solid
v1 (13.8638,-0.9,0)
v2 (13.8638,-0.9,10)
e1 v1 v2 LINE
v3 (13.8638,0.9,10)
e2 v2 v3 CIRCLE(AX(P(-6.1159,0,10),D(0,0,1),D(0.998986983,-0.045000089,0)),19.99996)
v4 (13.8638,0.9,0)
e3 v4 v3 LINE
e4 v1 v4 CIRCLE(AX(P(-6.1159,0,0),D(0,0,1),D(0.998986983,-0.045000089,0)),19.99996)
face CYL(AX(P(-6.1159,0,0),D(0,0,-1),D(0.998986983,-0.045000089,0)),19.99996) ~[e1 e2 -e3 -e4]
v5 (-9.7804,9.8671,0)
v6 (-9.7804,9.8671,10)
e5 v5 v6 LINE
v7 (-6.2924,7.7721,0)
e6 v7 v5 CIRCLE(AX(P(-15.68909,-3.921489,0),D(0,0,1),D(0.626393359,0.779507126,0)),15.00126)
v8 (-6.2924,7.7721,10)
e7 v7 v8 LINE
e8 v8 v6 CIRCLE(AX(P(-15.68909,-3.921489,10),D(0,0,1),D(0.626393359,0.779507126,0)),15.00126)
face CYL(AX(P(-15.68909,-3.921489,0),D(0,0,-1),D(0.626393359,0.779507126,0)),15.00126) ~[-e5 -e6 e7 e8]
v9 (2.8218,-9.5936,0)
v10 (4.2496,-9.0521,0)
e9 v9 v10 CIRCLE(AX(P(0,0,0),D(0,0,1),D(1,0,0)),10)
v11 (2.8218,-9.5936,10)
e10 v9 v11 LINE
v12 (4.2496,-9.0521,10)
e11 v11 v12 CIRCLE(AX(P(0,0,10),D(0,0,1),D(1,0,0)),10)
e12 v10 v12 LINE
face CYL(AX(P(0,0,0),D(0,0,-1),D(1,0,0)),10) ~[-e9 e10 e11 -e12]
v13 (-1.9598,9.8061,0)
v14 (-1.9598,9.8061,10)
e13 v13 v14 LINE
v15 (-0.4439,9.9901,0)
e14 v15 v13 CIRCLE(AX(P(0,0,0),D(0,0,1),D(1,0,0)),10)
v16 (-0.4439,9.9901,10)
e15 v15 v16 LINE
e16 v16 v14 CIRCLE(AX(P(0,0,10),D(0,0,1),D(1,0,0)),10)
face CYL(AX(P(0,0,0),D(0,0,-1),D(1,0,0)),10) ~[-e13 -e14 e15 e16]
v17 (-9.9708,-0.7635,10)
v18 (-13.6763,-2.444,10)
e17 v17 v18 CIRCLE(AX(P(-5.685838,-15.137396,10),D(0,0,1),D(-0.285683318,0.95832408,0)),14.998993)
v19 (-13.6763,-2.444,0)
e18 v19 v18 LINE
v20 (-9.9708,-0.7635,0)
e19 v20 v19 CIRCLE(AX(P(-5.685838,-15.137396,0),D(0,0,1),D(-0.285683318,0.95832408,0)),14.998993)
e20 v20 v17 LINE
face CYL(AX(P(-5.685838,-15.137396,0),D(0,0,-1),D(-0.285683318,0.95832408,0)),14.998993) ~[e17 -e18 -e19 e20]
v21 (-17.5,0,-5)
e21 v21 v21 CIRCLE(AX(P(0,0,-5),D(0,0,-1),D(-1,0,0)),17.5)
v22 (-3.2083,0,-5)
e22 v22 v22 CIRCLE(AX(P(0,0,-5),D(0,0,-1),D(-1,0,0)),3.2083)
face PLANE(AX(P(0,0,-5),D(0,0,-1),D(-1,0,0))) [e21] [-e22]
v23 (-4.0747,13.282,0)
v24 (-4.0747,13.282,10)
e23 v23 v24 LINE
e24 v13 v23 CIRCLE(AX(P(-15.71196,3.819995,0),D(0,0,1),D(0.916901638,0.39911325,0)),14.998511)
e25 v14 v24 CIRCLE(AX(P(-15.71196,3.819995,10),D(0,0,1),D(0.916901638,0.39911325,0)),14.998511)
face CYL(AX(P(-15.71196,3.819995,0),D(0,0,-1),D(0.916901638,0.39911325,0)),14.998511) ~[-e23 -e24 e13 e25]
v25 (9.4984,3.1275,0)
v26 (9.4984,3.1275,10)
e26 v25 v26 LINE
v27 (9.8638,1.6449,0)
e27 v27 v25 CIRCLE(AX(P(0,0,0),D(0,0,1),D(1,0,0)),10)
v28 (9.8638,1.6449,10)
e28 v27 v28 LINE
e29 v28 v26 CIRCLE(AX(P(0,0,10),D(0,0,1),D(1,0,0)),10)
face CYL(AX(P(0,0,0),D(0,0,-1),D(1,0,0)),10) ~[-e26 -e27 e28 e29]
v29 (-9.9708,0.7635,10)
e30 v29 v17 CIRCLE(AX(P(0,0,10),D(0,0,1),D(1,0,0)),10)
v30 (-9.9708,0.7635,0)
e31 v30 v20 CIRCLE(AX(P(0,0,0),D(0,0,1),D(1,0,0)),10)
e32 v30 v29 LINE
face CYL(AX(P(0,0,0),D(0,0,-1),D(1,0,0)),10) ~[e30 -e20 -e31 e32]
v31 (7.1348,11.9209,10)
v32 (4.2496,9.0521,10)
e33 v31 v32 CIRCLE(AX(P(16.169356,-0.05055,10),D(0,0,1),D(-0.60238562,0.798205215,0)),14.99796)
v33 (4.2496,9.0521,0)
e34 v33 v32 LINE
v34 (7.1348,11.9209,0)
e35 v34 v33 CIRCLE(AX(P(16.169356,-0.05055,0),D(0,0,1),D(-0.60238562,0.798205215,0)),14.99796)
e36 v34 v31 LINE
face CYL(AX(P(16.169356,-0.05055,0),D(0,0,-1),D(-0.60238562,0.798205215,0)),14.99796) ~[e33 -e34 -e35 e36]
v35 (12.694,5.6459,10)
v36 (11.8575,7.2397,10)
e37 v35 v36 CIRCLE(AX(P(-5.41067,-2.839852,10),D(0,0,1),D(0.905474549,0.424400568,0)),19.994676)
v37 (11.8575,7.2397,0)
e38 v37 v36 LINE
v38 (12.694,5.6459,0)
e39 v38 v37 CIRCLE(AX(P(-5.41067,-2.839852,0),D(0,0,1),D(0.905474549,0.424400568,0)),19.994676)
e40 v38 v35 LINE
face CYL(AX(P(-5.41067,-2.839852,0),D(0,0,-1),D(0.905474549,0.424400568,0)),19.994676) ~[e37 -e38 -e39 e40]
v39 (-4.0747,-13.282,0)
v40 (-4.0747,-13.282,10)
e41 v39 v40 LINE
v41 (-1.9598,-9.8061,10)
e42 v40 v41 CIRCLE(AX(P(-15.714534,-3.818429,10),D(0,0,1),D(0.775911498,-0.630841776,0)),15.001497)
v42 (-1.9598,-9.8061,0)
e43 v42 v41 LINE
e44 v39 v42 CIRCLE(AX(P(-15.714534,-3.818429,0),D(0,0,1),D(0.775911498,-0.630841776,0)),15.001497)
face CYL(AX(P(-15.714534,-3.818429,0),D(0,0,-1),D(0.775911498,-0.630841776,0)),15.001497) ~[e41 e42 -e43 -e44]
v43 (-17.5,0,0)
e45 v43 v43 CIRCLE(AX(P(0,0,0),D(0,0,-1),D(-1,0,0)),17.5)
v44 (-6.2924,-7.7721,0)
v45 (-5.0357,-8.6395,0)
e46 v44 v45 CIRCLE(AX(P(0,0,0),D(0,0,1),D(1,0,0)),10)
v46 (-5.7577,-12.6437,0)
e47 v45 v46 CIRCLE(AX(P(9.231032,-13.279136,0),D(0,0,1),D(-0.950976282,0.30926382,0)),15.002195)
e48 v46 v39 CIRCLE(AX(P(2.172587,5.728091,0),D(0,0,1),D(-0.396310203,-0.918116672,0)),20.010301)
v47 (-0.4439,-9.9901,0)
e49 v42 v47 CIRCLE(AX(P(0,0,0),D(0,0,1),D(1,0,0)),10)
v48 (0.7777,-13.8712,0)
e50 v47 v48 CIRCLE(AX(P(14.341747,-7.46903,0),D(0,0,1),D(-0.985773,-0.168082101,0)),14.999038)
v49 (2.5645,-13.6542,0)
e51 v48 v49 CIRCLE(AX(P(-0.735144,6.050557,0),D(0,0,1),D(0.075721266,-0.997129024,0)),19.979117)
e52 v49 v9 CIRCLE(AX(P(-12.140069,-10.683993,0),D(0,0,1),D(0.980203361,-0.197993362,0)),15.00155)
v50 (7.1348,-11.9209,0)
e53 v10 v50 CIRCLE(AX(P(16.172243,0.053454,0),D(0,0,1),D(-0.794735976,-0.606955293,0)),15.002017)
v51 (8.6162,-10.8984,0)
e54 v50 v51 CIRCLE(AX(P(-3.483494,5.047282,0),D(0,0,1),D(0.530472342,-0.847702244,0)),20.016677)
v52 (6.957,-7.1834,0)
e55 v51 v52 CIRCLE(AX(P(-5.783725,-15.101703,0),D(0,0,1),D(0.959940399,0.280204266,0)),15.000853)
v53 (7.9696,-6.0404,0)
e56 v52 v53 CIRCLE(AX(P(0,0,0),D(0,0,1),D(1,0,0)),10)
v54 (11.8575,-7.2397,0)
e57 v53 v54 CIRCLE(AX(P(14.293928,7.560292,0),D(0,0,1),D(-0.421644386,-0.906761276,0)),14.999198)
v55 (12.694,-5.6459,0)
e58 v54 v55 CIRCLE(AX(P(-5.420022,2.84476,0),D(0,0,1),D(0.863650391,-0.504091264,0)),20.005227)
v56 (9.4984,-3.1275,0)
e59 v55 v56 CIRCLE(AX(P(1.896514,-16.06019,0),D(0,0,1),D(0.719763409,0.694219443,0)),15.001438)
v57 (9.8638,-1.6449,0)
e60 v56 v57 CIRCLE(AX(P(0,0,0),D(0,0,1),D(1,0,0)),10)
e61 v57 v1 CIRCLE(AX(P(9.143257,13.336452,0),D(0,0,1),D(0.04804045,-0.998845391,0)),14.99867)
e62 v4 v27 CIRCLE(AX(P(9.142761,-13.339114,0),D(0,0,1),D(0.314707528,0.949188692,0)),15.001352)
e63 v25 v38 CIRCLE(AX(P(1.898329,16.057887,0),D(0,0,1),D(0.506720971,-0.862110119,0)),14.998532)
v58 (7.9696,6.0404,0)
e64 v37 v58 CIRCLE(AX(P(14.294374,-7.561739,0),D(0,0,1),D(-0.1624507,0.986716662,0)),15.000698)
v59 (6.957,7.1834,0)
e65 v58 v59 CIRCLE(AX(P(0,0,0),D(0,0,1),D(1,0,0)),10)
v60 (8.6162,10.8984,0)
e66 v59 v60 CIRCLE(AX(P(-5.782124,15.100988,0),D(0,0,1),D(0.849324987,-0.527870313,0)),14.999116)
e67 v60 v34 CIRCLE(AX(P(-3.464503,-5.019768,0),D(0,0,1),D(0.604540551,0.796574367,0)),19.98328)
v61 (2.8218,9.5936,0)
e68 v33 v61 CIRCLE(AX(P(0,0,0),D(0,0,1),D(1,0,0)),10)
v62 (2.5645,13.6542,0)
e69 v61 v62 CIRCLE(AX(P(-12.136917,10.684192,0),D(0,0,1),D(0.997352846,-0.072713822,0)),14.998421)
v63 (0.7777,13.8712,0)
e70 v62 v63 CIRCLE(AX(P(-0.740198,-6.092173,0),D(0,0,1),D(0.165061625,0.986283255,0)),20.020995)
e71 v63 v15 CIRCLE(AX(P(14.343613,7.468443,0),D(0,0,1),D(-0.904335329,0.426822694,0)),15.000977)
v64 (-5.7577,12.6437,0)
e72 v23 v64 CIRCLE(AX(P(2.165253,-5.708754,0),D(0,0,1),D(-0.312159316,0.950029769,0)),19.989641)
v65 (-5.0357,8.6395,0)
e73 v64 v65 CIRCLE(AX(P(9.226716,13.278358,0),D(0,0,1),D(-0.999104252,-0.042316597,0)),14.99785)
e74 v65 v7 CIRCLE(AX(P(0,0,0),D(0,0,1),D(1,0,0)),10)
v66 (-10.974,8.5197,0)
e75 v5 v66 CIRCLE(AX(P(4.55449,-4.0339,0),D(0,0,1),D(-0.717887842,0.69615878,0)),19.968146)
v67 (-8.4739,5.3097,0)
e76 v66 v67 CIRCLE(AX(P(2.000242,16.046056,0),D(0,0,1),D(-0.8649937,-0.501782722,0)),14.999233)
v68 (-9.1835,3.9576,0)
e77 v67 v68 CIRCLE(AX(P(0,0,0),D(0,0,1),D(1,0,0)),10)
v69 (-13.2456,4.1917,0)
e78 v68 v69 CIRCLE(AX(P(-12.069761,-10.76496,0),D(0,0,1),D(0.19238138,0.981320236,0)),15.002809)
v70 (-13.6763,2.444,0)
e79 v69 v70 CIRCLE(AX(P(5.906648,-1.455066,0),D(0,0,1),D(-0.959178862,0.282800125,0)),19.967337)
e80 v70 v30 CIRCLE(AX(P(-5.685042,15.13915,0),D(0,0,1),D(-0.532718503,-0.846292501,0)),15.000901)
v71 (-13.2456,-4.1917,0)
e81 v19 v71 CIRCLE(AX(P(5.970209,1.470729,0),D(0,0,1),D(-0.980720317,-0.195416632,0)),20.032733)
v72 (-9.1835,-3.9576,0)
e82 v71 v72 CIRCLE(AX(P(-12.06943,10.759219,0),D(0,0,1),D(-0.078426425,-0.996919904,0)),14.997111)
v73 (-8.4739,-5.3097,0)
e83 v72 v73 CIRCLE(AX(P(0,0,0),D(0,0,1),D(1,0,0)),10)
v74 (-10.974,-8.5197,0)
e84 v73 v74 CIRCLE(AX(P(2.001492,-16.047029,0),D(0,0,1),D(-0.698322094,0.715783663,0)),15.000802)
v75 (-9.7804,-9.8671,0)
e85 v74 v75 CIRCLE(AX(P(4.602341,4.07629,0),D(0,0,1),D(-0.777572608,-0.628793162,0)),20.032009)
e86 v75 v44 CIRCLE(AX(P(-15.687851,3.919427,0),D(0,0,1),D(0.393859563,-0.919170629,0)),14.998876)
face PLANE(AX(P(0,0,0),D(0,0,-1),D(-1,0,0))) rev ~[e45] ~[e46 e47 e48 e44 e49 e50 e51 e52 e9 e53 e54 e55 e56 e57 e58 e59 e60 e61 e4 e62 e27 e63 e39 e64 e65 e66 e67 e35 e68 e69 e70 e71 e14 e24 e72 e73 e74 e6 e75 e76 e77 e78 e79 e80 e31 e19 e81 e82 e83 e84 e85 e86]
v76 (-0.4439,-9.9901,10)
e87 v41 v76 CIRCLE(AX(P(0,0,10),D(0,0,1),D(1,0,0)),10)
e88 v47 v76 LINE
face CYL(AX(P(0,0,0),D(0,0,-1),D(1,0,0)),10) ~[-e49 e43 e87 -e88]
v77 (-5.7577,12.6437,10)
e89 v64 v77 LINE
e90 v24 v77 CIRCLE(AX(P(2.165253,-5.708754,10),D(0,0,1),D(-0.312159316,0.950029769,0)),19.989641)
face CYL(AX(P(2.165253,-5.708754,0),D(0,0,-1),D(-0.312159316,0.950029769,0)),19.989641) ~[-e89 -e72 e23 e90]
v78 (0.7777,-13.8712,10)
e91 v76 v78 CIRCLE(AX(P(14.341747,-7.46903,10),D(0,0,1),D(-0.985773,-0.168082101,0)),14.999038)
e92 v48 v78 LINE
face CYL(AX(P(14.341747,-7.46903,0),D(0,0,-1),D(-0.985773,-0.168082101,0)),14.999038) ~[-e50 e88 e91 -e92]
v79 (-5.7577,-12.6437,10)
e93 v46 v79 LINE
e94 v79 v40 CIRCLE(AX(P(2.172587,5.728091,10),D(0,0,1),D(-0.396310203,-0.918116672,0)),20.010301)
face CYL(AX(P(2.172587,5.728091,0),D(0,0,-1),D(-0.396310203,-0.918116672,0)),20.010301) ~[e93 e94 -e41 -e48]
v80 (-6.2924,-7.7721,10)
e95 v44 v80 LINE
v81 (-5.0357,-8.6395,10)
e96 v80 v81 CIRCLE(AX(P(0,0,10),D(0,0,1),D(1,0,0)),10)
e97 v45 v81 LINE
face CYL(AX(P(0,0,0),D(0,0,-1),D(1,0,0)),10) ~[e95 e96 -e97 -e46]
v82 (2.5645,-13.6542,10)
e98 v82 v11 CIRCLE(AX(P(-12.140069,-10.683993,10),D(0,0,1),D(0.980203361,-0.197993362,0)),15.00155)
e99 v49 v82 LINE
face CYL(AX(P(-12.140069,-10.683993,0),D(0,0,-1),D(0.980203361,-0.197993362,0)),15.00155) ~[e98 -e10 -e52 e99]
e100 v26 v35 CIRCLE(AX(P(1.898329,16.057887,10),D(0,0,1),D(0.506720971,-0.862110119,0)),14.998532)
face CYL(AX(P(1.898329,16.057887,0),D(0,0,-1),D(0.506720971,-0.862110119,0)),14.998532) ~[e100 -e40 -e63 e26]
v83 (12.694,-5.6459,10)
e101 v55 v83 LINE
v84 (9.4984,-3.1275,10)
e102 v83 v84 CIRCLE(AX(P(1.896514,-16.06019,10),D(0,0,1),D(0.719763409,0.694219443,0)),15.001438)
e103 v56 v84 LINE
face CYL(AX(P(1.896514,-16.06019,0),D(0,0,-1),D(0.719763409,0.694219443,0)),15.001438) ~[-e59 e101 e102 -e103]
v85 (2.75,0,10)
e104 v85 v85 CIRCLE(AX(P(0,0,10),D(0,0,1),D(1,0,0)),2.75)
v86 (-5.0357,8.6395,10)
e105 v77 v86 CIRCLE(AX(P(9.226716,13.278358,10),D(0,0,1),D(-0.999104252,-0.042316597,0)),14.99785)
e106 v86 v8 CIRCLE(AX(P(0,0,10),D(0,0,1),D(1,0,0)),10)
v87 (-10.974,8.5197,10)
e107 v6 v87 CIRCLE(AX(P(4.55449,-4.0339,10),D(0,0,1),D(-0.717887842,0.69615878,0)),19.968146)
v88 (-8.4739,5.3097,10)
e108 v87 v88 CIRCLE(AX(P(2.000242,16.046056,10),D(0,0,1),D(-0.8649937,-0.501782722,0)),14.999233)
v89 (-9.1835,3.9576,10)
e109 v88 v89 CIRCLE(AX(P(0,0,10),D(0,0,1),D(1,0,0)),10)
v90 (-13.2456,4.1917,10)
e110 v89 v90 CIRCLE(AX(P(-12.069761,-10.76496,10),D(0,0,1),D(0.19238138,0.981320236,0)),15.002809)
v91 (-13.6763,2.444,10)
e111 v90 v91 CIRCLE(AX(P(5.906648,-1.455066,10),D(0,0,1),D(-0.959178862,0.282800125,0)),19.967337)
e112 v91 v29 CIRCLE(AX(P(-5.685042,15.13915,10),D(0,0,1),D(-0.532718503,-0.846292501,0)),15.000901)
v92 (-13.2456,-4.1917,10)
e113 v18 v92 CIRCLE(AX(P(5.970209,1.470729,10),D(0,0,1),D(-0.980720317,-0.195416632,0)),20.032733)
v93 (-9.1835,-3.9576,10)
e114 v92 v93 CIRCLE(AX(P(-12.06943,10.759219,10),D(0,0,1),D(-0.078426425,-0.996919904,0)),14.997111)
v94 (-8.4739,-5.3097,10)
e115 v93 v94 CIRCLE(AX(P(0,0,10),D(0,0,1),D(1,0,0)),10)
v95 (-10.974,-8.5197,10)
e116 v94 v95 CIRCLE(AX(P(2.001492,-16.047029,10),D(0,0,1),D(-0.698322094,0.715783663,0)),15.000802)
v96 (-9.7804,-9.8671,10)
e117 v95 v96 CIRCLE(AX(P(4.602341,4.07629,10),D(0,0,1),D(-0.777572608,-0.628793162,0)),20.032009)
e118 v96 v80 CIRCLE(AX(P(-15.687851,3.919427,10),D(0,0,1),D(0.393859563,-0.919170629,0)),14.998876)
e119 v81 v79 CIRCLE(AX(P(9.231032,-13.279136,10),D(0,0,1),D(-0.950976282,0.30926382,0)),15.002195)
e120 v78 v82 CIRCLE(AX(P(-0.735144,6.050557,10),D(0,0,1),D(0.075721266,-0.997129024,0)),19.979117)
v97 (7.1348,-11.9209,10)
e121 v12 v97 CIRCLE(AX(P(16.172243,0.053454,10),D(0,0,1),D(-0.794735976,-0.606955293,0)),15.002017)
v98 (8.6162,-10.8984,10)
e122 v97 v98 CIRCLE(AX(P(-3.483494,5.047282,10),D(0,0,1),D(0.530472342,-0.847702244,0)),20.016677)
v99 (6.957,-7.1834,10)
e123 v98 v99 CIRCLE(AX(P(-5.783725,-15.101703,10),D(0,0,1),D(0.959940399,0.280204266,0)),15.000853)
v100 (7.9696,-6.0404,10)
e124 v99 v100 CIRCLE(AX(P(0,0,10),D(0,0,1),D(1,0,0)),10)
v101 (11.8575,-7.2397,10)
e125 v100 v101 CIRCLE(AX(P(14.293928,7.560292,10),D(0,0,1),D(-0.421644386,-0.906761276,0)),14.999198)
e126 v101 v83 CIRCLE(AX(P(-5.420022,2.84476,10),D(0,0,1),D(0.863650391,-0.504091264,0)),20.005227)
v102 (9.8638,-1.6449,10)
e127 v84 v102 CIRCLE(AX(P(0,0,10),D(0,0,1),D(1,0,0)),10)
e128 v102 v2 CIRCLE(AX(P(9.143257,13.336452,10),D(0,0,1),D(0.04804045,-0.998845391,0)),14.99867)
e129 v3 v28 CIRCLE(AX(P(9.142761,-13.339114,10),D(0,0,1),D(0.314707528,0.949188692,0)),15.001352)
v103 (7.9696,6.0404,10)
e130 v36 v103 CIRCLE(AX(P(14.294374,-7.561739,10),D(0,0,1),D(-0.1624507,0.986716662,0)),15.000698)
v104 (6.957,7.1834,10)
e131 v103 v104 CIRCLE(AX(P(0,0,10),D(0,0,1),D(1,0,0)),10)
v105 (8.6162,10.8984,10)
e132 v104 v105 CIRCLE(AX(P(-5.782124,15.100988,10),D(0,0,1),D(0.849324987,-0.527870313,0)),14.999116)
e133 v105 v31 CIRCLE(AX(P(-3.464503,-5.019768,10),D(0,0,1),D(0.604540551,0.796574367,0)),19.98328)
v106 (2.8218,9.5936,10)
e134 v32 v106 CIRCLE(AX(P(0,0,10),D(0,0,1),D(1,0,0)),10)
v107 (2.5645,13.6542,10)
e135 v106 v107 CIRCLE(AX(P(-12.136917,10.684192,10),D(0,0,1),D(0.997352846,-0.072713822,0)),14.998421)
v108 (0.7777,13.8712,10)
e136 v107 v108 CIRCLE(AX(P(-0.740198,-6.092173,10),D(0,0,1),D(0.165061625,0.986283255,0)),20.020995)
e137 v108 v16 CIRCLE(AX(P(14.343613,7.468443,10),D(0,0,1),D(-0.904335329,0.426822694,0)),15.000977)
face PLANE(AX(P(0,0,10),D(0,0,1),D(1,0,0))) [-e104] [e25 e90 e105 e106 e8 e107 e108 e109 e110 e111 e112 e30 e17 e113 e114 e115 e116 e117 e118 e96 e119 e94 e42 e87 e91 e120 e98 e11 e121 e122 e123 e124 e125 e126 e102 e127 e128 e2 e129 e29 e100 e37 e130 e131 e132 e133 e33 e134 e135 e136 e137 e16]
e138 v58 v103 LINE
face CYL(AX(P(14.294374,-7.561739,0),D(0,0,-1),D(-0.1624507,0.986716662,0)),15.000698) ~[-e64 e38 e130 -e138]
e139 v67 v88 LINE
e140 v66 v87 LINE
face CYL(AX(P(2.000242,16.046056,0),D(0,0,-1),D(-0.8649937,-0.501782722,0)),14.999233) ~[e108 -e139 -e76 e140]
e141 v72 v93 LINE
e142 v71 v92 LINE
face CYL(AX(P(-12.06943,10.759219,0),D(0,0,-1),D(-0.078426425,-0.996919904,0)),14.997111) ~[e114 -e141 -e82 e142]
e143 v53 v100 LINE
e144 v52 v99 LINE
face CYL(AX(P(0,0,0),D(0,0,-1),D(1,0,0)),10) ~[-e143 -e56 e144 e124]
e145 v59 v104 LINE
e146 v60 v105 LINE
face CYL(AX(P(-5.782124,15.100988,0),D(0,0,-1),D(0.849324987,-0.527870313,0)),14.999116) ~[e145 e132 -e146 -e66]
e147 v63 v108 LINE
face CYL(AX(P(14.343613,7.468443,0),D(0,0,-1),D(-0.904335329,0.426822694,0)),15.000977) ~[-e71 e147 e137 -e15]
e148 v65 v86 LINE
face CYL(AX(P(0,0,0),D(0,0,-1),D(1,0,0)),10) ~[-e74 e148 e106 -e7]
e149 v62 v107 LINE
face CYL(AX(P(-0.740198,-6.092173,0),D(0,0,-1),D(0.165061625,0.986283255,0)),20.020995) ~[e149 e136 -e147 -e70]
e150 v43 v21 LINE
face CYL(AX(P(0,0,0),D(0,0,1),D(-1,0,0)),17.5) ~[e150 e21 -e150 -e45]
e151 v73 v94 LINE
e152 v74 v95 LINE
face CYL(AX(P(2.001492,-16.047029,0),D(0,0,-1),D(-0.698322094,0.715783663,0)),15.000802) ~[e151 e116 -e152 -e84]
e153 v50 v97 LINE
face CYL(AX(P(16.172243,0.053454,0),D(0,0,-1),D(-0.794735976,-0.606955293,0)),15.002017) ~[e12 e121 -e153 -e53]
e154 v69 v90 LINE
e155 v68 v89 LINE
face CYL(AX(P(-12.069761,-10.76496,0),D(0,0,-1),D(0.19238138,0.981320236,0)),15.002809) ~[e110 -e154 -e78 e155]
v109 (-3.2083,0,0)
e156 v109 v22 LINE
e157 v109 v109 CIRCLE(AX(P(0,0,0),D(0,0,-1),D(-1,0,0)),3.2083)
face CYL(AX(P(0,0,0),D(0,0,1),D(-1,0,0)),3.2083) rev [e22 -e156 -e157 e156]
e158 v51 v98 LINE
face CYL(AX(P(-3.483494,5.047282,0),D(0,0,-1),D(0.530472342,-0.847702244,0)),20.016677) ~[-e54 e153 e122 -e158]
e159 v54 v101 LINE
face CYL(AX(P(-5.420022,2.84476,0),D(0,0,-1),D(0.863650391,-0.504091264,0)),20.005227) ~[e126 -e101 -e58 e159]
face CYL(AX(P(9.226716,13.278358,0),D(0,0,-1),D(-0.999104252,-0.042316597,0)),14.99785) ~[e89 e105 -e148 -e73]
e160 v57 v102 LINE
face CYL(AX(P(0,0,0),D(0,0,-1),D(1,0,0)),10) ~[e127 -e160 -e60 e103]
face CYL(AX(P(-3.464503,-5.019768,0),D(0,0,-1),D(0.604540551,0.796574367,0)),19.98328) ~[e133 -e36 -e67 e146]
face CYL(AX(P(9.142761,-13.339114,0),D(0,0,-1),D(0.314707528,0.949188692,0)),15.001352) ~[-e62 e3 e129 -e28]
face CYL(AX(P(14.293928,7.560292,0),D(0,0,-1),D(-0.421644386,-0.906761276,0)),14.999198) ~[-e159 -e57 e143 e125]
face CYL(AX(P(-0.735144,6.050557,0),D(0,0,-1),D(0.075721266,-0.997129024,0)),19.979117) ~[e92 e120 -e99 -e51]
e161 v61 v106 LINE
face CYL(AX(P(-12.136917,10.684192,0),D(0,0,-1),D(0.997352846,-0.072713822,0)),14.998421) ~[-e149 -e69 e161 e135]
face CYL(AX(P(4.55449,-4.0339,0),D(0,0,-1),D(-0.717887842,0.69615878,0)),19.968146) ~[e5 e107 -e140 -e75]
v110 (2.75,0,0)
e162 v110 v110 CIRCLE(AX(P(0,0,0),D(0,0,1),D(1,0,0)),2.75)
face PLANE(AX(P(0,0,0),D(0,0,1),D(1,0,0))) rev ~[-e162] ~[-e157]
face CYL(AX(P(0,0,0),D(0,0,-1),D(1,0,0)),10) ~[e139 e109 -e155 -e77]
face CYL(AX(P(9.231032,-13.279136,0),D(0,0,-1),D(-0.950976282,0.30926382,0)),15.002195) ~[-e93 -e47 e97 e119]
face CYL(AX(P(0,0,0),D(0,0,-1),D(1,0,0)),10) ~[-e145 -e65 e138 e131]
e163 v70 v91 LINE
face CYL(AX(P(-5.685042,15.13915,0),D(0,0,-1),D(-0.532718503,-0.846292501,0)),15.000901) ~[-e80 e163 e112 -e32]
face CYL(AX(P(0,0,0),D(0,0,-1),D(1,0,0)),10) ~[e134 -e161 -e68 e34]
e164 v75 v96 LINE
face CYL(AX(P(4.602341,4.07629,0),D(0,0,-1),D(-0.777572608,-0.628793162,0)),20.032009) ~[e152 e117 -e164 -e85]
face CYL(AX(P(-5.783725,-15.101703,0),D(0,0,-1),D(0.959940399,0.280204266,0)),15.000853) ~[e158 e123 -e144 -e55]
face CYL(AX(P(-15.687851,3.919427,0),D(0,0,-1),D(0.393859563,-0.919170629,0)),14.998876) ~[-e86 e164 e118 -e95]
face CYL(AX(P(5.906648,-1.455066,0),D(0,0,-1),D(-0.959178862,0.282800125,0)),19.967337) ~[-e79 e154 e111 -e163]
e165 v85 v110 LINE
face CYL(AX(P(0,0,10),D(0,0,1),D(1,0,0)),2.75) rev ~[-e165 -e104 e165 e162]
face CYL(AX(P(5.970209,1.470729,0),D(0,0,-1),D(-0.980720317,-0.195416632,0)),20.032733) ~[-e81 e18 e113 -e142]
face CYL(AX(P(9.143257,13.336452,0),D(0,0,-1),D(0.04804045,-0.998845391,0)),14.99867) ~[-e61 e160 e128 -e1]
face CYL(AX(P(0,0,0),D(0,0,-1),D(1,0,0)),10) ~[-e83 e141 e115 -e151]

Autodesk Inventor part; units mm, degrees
ref_plane "YZ Plane" through (0, 0, 0) normal (1, 0, 0) x (0, 1, 0)
ref_plane "XZ Plane" through (0, 0, 0) normal (0, 1, 0) x (-1, 0, 0)
ref_plane "XY Plane" through (0, 0, 0) normal (0, 0, 1) x (1, 0, 0)
sketch "Sketch1" plane through (0, 0, 0) normal (0, 0, 1) x (1, 0, 0)
  circle A0 centre (0, 0) radius 10
  arc A1 (13.8638, 0.9) -> (9.8638, 1.6449) centre (9.1431, -13.3378) ccw
  arc A2 (9.8638, -1.6449) -> (13.8638, -0.9) centre (9.1431, 13.3378) ccw
  arc A3 (13.8638, -0.9) -> (13.8638, 0.9) centre (-6.1159, 0) ccw
  line L0 (0, 0) -> (21.7354, 0) construction
  arc A4 (9.8638, -1.6449) -> (9.8638, 1.6449) centre (0, 0) ccw
  arc A5 (11.8575, 7.2397) -> (7.9696, 6.0404) centre (14.2942, -7.561) ccw
  arc A6 (12.694, 5.6459) -> (11.8575, 7.2397) centre (-5.4154, -2.8422) ccw
  arc A7 (9.4984, 3.1275) -> (12.694, 5.6459) centre (1.8975, 16.0591) ccw
  circle A8 centre (0, 0) radius 10
  arc A9 (9.4984, 3.1275) -> (7.9696, 6.0404) centre (0, 0) ccw
  arc A10 (7.1348, 11.9209) -> (4.2496, 9.0521) centre (16.1707, -0.0521) ccw
  arc A11 (8.6162, 10.8984) -> (7.1348, 11.9209) centre (-3.4743, -5.0333) ccw
  arc A12 (6.957, 7.1834) -> (8.6162, 10.8984) centre (-5.7829, 15.1014) ccw
  circle A13 centre (0, 0) radius 10
  arc A14 (6.957, 7.1834) -> (4.2496, 9.0521) centre (0, 0) ccw
  arc A15 (0.7777, 13.8712) -> (-0.4439, 9.9901) centre (14.3427, 7.4688) ccw
  arc A16 (2.5645, 13.6542) -> (0.7777, 13.8712) centre (-0.7372, -6.0714) ccw
  arc A17 (2.8218, 9.5936) -> (2.5645, 13.6542) centre (-12.1385, 10.6842) ccw
  circle A18 centre (0, 0) radius 10
  arc A19 (2.8218, 9.5936) -> (-0.4439, 9.9901) centre (0, 0) ccw
  arc A20 (-5.7577, 12.6437) -> (-5.0357, 8.6395) centre (9.2289, 13.2786) ccw
  arc A21 (-4.0747, 13.282) -> (-5.7577, 12.6437) centre (2.1687, -5.7185) ccw
  arc A22 (-1.9598, 9.8061) -> (-4.0747, 13.282) centre (-15.7133, 3.8193) ccw
  circle A23 centre (0, 0) radius 10
  arc A24 (-1.9598, 9.8061) -> (-5.0357, 8.6395) centre (0, 0) ccw
  arc A25 (-10.974, 8.5197) -> (-8.4739, 5.3097) centre (2.0009, 16.0465) ccw
  arc A26 (-9.7804, 9.8671) -> (-10.974, 8.5197) centre (4.5779, -4.0556) ccw
  arc A27 (-6.2924, 7.7721) -> (-9.7804, 9.8671) centre (-15.6884, -3.9205) ccw
  circle A28 centre (0, 0) radius 10
  arc A29 (-6.2924, 7.7721) -> (-8.4739, 5.3097) centre (0, 0) ccw
  arc A30 (-13.6763, 2.444) -> (-9.9708, 0.7635) centre (-5.6855, 15.1383) ccw
  arc A31 (-13.2456, 4.1917) -> (-13.6763, 2.444) centre (5.9382, -1.4636) ccw
  arc A32 (-9.1835, 3.9576) -> (-13.2456, 4.1917) centre (-12.0694, -10.7621) ccw
  circle A33 centre (0, 0) radius 10
  arc A34 (-9.1835, 3.9576) -> (-9.9708, 0.7635) centre (0, 0) ccw
  arc A35 (-13.2456, -4.1917) -> (-9.1835, -3.9576) centre (-12.0694, 10.7621) ccw
  arc A36 (-13.6763, -2.444) -> (-13.2456, -4.1917) centre (5.9382, 1.4636) ccw
  arc A37 (-9.9708, -0.7635) -> (-13.6763, -2.444) centre (-5.6855, -15.1383) ccw
  circle A38 centre (0, 0) radius 10
  arc A39 (-9.9708, -0.7635) -> (-9.1835, -3.9576) centre (0, 0) ccw
  arc A40 (-9.7804, -9.8671) -> (-6.2924, -7.7721) centre (-15.6884, 3.9205) ccw
  arc A41 (-10.974, -8.5197) -> (-9.7804, -9.8671) centre (4.5779, 4.0556) ccw
  arc A42 (-8.4739, -5.3097) -> (-10.974, -8.5197) centre (2.0009, -16.0465) ccw
  circle A43 centre (0, 0) radius 10
  arc A44 (-8.4739, -5.3097) -> (-6.2924, -7.7721) centre (0, 0) ccw
  arc A45 (-4.0747, -13.282) -> (-1.9598, -9.8061) centre (-15.7133, -3.8193) ccw
  arc A46 (-5.7577, -12.6437) -> (-4.0747, -13.282) centre (2.1687, 5.7185) ccw
  arc A47 (-5.0357, -8.6395) -> (-5.7577, -12.6437) centre (9.2289, -13.2786) ccw
  circle A48 centre (0, 0) radius 10
  arc A49 (-5.0357, -8.6395) -> (-1.9598, -9.8061) centre (0, 0) ccw
  arc A50 (2.5645, -13.6542) -> (2.8218, -9.5936) centre (-12.1385, -10.6842) ccw
  arc A51 (0.7777, -13.8712) -> (2.5645, -13.6542) centre (-0.7372, 6.0714) ccw
  arc A52 (-0.4439, -9.9901) -> (0.7777, -13.8712) centre (14.3427, -7.4688) ccw
  circle A53 centre (0, 0) radius 10
  arc A54 (-0.4439, -9.9901) -> (2.8218, -9.5936) centre (0, 0) ccw
  arc A55 (8.6162, -10.8984) -> (6.957, -7.1834) centre (-5.7829, -15.1014) ccw
  arc A56 (7.1348, -11.9209) -> (8.6162, -10.8984) centre (-3.4743, 5.0333) ccw
  arc A57 (4.2496, -9.0521) -> (7.1348, -11.9209) centre (16.1707, 0.0521) ccw
  circle A58 centre (0, 0) radius 10
  arc A59 (4.2496, -9.0521) -> (6.957, -7.1834) centre (0, 0) ccw
  arc A60 (12.694, -5.6459) -> (9.4984, -3.1275) centre (1.8975, -16.0591) ccw
  arc A61 (11.8575, -7.2397) -> (12.694, -5.6459) centre (-5.4154, 2.8422) ccw
  arc A62 (7.9696, -6.0404) -> (11.8575, -7.2397) centre (14.2942, 7.561) ccw
  circle A63 centre (0, 0) radius 10
  arc A64 (7.9696, -6.0404) -> (9.4984, -3.1275) centre (0, 0) ccw
  dimension "d0" = 20
  dimension "d3" = 15
  dimension "d4" = 15
  dimension "d5" = 4
  dimension "d6" = 20
  dimension "d7" = 1.8
  dimension "d10" = 360
extrude "Extrusion1" add sketch "Sketch1" along normal blind 10
sketch "Sketch2" plane through (0, 0, 10) normal (0, 0, 1) x (1, 0, 0)
  circle A0 centre (0, 0) radius 2.75
  dimension "d14" = 5.5
extrude "Extrusion2" cut sketch "Sketch2" against normal through all
sketch "Sketch3" plane through (0, 0, 0) normal (0, 0, -1) x (-1, 0, 0)
  circle A0 centre (0, 0) radius 17.5
  circle A1 centre (0, 0) radius 3.2083
  dimension "d17" = 35
extrude "Extrusion3" add sketch "Sketch3" along normal blind 5
properties part number "BA006" material "ABS Plastic"
